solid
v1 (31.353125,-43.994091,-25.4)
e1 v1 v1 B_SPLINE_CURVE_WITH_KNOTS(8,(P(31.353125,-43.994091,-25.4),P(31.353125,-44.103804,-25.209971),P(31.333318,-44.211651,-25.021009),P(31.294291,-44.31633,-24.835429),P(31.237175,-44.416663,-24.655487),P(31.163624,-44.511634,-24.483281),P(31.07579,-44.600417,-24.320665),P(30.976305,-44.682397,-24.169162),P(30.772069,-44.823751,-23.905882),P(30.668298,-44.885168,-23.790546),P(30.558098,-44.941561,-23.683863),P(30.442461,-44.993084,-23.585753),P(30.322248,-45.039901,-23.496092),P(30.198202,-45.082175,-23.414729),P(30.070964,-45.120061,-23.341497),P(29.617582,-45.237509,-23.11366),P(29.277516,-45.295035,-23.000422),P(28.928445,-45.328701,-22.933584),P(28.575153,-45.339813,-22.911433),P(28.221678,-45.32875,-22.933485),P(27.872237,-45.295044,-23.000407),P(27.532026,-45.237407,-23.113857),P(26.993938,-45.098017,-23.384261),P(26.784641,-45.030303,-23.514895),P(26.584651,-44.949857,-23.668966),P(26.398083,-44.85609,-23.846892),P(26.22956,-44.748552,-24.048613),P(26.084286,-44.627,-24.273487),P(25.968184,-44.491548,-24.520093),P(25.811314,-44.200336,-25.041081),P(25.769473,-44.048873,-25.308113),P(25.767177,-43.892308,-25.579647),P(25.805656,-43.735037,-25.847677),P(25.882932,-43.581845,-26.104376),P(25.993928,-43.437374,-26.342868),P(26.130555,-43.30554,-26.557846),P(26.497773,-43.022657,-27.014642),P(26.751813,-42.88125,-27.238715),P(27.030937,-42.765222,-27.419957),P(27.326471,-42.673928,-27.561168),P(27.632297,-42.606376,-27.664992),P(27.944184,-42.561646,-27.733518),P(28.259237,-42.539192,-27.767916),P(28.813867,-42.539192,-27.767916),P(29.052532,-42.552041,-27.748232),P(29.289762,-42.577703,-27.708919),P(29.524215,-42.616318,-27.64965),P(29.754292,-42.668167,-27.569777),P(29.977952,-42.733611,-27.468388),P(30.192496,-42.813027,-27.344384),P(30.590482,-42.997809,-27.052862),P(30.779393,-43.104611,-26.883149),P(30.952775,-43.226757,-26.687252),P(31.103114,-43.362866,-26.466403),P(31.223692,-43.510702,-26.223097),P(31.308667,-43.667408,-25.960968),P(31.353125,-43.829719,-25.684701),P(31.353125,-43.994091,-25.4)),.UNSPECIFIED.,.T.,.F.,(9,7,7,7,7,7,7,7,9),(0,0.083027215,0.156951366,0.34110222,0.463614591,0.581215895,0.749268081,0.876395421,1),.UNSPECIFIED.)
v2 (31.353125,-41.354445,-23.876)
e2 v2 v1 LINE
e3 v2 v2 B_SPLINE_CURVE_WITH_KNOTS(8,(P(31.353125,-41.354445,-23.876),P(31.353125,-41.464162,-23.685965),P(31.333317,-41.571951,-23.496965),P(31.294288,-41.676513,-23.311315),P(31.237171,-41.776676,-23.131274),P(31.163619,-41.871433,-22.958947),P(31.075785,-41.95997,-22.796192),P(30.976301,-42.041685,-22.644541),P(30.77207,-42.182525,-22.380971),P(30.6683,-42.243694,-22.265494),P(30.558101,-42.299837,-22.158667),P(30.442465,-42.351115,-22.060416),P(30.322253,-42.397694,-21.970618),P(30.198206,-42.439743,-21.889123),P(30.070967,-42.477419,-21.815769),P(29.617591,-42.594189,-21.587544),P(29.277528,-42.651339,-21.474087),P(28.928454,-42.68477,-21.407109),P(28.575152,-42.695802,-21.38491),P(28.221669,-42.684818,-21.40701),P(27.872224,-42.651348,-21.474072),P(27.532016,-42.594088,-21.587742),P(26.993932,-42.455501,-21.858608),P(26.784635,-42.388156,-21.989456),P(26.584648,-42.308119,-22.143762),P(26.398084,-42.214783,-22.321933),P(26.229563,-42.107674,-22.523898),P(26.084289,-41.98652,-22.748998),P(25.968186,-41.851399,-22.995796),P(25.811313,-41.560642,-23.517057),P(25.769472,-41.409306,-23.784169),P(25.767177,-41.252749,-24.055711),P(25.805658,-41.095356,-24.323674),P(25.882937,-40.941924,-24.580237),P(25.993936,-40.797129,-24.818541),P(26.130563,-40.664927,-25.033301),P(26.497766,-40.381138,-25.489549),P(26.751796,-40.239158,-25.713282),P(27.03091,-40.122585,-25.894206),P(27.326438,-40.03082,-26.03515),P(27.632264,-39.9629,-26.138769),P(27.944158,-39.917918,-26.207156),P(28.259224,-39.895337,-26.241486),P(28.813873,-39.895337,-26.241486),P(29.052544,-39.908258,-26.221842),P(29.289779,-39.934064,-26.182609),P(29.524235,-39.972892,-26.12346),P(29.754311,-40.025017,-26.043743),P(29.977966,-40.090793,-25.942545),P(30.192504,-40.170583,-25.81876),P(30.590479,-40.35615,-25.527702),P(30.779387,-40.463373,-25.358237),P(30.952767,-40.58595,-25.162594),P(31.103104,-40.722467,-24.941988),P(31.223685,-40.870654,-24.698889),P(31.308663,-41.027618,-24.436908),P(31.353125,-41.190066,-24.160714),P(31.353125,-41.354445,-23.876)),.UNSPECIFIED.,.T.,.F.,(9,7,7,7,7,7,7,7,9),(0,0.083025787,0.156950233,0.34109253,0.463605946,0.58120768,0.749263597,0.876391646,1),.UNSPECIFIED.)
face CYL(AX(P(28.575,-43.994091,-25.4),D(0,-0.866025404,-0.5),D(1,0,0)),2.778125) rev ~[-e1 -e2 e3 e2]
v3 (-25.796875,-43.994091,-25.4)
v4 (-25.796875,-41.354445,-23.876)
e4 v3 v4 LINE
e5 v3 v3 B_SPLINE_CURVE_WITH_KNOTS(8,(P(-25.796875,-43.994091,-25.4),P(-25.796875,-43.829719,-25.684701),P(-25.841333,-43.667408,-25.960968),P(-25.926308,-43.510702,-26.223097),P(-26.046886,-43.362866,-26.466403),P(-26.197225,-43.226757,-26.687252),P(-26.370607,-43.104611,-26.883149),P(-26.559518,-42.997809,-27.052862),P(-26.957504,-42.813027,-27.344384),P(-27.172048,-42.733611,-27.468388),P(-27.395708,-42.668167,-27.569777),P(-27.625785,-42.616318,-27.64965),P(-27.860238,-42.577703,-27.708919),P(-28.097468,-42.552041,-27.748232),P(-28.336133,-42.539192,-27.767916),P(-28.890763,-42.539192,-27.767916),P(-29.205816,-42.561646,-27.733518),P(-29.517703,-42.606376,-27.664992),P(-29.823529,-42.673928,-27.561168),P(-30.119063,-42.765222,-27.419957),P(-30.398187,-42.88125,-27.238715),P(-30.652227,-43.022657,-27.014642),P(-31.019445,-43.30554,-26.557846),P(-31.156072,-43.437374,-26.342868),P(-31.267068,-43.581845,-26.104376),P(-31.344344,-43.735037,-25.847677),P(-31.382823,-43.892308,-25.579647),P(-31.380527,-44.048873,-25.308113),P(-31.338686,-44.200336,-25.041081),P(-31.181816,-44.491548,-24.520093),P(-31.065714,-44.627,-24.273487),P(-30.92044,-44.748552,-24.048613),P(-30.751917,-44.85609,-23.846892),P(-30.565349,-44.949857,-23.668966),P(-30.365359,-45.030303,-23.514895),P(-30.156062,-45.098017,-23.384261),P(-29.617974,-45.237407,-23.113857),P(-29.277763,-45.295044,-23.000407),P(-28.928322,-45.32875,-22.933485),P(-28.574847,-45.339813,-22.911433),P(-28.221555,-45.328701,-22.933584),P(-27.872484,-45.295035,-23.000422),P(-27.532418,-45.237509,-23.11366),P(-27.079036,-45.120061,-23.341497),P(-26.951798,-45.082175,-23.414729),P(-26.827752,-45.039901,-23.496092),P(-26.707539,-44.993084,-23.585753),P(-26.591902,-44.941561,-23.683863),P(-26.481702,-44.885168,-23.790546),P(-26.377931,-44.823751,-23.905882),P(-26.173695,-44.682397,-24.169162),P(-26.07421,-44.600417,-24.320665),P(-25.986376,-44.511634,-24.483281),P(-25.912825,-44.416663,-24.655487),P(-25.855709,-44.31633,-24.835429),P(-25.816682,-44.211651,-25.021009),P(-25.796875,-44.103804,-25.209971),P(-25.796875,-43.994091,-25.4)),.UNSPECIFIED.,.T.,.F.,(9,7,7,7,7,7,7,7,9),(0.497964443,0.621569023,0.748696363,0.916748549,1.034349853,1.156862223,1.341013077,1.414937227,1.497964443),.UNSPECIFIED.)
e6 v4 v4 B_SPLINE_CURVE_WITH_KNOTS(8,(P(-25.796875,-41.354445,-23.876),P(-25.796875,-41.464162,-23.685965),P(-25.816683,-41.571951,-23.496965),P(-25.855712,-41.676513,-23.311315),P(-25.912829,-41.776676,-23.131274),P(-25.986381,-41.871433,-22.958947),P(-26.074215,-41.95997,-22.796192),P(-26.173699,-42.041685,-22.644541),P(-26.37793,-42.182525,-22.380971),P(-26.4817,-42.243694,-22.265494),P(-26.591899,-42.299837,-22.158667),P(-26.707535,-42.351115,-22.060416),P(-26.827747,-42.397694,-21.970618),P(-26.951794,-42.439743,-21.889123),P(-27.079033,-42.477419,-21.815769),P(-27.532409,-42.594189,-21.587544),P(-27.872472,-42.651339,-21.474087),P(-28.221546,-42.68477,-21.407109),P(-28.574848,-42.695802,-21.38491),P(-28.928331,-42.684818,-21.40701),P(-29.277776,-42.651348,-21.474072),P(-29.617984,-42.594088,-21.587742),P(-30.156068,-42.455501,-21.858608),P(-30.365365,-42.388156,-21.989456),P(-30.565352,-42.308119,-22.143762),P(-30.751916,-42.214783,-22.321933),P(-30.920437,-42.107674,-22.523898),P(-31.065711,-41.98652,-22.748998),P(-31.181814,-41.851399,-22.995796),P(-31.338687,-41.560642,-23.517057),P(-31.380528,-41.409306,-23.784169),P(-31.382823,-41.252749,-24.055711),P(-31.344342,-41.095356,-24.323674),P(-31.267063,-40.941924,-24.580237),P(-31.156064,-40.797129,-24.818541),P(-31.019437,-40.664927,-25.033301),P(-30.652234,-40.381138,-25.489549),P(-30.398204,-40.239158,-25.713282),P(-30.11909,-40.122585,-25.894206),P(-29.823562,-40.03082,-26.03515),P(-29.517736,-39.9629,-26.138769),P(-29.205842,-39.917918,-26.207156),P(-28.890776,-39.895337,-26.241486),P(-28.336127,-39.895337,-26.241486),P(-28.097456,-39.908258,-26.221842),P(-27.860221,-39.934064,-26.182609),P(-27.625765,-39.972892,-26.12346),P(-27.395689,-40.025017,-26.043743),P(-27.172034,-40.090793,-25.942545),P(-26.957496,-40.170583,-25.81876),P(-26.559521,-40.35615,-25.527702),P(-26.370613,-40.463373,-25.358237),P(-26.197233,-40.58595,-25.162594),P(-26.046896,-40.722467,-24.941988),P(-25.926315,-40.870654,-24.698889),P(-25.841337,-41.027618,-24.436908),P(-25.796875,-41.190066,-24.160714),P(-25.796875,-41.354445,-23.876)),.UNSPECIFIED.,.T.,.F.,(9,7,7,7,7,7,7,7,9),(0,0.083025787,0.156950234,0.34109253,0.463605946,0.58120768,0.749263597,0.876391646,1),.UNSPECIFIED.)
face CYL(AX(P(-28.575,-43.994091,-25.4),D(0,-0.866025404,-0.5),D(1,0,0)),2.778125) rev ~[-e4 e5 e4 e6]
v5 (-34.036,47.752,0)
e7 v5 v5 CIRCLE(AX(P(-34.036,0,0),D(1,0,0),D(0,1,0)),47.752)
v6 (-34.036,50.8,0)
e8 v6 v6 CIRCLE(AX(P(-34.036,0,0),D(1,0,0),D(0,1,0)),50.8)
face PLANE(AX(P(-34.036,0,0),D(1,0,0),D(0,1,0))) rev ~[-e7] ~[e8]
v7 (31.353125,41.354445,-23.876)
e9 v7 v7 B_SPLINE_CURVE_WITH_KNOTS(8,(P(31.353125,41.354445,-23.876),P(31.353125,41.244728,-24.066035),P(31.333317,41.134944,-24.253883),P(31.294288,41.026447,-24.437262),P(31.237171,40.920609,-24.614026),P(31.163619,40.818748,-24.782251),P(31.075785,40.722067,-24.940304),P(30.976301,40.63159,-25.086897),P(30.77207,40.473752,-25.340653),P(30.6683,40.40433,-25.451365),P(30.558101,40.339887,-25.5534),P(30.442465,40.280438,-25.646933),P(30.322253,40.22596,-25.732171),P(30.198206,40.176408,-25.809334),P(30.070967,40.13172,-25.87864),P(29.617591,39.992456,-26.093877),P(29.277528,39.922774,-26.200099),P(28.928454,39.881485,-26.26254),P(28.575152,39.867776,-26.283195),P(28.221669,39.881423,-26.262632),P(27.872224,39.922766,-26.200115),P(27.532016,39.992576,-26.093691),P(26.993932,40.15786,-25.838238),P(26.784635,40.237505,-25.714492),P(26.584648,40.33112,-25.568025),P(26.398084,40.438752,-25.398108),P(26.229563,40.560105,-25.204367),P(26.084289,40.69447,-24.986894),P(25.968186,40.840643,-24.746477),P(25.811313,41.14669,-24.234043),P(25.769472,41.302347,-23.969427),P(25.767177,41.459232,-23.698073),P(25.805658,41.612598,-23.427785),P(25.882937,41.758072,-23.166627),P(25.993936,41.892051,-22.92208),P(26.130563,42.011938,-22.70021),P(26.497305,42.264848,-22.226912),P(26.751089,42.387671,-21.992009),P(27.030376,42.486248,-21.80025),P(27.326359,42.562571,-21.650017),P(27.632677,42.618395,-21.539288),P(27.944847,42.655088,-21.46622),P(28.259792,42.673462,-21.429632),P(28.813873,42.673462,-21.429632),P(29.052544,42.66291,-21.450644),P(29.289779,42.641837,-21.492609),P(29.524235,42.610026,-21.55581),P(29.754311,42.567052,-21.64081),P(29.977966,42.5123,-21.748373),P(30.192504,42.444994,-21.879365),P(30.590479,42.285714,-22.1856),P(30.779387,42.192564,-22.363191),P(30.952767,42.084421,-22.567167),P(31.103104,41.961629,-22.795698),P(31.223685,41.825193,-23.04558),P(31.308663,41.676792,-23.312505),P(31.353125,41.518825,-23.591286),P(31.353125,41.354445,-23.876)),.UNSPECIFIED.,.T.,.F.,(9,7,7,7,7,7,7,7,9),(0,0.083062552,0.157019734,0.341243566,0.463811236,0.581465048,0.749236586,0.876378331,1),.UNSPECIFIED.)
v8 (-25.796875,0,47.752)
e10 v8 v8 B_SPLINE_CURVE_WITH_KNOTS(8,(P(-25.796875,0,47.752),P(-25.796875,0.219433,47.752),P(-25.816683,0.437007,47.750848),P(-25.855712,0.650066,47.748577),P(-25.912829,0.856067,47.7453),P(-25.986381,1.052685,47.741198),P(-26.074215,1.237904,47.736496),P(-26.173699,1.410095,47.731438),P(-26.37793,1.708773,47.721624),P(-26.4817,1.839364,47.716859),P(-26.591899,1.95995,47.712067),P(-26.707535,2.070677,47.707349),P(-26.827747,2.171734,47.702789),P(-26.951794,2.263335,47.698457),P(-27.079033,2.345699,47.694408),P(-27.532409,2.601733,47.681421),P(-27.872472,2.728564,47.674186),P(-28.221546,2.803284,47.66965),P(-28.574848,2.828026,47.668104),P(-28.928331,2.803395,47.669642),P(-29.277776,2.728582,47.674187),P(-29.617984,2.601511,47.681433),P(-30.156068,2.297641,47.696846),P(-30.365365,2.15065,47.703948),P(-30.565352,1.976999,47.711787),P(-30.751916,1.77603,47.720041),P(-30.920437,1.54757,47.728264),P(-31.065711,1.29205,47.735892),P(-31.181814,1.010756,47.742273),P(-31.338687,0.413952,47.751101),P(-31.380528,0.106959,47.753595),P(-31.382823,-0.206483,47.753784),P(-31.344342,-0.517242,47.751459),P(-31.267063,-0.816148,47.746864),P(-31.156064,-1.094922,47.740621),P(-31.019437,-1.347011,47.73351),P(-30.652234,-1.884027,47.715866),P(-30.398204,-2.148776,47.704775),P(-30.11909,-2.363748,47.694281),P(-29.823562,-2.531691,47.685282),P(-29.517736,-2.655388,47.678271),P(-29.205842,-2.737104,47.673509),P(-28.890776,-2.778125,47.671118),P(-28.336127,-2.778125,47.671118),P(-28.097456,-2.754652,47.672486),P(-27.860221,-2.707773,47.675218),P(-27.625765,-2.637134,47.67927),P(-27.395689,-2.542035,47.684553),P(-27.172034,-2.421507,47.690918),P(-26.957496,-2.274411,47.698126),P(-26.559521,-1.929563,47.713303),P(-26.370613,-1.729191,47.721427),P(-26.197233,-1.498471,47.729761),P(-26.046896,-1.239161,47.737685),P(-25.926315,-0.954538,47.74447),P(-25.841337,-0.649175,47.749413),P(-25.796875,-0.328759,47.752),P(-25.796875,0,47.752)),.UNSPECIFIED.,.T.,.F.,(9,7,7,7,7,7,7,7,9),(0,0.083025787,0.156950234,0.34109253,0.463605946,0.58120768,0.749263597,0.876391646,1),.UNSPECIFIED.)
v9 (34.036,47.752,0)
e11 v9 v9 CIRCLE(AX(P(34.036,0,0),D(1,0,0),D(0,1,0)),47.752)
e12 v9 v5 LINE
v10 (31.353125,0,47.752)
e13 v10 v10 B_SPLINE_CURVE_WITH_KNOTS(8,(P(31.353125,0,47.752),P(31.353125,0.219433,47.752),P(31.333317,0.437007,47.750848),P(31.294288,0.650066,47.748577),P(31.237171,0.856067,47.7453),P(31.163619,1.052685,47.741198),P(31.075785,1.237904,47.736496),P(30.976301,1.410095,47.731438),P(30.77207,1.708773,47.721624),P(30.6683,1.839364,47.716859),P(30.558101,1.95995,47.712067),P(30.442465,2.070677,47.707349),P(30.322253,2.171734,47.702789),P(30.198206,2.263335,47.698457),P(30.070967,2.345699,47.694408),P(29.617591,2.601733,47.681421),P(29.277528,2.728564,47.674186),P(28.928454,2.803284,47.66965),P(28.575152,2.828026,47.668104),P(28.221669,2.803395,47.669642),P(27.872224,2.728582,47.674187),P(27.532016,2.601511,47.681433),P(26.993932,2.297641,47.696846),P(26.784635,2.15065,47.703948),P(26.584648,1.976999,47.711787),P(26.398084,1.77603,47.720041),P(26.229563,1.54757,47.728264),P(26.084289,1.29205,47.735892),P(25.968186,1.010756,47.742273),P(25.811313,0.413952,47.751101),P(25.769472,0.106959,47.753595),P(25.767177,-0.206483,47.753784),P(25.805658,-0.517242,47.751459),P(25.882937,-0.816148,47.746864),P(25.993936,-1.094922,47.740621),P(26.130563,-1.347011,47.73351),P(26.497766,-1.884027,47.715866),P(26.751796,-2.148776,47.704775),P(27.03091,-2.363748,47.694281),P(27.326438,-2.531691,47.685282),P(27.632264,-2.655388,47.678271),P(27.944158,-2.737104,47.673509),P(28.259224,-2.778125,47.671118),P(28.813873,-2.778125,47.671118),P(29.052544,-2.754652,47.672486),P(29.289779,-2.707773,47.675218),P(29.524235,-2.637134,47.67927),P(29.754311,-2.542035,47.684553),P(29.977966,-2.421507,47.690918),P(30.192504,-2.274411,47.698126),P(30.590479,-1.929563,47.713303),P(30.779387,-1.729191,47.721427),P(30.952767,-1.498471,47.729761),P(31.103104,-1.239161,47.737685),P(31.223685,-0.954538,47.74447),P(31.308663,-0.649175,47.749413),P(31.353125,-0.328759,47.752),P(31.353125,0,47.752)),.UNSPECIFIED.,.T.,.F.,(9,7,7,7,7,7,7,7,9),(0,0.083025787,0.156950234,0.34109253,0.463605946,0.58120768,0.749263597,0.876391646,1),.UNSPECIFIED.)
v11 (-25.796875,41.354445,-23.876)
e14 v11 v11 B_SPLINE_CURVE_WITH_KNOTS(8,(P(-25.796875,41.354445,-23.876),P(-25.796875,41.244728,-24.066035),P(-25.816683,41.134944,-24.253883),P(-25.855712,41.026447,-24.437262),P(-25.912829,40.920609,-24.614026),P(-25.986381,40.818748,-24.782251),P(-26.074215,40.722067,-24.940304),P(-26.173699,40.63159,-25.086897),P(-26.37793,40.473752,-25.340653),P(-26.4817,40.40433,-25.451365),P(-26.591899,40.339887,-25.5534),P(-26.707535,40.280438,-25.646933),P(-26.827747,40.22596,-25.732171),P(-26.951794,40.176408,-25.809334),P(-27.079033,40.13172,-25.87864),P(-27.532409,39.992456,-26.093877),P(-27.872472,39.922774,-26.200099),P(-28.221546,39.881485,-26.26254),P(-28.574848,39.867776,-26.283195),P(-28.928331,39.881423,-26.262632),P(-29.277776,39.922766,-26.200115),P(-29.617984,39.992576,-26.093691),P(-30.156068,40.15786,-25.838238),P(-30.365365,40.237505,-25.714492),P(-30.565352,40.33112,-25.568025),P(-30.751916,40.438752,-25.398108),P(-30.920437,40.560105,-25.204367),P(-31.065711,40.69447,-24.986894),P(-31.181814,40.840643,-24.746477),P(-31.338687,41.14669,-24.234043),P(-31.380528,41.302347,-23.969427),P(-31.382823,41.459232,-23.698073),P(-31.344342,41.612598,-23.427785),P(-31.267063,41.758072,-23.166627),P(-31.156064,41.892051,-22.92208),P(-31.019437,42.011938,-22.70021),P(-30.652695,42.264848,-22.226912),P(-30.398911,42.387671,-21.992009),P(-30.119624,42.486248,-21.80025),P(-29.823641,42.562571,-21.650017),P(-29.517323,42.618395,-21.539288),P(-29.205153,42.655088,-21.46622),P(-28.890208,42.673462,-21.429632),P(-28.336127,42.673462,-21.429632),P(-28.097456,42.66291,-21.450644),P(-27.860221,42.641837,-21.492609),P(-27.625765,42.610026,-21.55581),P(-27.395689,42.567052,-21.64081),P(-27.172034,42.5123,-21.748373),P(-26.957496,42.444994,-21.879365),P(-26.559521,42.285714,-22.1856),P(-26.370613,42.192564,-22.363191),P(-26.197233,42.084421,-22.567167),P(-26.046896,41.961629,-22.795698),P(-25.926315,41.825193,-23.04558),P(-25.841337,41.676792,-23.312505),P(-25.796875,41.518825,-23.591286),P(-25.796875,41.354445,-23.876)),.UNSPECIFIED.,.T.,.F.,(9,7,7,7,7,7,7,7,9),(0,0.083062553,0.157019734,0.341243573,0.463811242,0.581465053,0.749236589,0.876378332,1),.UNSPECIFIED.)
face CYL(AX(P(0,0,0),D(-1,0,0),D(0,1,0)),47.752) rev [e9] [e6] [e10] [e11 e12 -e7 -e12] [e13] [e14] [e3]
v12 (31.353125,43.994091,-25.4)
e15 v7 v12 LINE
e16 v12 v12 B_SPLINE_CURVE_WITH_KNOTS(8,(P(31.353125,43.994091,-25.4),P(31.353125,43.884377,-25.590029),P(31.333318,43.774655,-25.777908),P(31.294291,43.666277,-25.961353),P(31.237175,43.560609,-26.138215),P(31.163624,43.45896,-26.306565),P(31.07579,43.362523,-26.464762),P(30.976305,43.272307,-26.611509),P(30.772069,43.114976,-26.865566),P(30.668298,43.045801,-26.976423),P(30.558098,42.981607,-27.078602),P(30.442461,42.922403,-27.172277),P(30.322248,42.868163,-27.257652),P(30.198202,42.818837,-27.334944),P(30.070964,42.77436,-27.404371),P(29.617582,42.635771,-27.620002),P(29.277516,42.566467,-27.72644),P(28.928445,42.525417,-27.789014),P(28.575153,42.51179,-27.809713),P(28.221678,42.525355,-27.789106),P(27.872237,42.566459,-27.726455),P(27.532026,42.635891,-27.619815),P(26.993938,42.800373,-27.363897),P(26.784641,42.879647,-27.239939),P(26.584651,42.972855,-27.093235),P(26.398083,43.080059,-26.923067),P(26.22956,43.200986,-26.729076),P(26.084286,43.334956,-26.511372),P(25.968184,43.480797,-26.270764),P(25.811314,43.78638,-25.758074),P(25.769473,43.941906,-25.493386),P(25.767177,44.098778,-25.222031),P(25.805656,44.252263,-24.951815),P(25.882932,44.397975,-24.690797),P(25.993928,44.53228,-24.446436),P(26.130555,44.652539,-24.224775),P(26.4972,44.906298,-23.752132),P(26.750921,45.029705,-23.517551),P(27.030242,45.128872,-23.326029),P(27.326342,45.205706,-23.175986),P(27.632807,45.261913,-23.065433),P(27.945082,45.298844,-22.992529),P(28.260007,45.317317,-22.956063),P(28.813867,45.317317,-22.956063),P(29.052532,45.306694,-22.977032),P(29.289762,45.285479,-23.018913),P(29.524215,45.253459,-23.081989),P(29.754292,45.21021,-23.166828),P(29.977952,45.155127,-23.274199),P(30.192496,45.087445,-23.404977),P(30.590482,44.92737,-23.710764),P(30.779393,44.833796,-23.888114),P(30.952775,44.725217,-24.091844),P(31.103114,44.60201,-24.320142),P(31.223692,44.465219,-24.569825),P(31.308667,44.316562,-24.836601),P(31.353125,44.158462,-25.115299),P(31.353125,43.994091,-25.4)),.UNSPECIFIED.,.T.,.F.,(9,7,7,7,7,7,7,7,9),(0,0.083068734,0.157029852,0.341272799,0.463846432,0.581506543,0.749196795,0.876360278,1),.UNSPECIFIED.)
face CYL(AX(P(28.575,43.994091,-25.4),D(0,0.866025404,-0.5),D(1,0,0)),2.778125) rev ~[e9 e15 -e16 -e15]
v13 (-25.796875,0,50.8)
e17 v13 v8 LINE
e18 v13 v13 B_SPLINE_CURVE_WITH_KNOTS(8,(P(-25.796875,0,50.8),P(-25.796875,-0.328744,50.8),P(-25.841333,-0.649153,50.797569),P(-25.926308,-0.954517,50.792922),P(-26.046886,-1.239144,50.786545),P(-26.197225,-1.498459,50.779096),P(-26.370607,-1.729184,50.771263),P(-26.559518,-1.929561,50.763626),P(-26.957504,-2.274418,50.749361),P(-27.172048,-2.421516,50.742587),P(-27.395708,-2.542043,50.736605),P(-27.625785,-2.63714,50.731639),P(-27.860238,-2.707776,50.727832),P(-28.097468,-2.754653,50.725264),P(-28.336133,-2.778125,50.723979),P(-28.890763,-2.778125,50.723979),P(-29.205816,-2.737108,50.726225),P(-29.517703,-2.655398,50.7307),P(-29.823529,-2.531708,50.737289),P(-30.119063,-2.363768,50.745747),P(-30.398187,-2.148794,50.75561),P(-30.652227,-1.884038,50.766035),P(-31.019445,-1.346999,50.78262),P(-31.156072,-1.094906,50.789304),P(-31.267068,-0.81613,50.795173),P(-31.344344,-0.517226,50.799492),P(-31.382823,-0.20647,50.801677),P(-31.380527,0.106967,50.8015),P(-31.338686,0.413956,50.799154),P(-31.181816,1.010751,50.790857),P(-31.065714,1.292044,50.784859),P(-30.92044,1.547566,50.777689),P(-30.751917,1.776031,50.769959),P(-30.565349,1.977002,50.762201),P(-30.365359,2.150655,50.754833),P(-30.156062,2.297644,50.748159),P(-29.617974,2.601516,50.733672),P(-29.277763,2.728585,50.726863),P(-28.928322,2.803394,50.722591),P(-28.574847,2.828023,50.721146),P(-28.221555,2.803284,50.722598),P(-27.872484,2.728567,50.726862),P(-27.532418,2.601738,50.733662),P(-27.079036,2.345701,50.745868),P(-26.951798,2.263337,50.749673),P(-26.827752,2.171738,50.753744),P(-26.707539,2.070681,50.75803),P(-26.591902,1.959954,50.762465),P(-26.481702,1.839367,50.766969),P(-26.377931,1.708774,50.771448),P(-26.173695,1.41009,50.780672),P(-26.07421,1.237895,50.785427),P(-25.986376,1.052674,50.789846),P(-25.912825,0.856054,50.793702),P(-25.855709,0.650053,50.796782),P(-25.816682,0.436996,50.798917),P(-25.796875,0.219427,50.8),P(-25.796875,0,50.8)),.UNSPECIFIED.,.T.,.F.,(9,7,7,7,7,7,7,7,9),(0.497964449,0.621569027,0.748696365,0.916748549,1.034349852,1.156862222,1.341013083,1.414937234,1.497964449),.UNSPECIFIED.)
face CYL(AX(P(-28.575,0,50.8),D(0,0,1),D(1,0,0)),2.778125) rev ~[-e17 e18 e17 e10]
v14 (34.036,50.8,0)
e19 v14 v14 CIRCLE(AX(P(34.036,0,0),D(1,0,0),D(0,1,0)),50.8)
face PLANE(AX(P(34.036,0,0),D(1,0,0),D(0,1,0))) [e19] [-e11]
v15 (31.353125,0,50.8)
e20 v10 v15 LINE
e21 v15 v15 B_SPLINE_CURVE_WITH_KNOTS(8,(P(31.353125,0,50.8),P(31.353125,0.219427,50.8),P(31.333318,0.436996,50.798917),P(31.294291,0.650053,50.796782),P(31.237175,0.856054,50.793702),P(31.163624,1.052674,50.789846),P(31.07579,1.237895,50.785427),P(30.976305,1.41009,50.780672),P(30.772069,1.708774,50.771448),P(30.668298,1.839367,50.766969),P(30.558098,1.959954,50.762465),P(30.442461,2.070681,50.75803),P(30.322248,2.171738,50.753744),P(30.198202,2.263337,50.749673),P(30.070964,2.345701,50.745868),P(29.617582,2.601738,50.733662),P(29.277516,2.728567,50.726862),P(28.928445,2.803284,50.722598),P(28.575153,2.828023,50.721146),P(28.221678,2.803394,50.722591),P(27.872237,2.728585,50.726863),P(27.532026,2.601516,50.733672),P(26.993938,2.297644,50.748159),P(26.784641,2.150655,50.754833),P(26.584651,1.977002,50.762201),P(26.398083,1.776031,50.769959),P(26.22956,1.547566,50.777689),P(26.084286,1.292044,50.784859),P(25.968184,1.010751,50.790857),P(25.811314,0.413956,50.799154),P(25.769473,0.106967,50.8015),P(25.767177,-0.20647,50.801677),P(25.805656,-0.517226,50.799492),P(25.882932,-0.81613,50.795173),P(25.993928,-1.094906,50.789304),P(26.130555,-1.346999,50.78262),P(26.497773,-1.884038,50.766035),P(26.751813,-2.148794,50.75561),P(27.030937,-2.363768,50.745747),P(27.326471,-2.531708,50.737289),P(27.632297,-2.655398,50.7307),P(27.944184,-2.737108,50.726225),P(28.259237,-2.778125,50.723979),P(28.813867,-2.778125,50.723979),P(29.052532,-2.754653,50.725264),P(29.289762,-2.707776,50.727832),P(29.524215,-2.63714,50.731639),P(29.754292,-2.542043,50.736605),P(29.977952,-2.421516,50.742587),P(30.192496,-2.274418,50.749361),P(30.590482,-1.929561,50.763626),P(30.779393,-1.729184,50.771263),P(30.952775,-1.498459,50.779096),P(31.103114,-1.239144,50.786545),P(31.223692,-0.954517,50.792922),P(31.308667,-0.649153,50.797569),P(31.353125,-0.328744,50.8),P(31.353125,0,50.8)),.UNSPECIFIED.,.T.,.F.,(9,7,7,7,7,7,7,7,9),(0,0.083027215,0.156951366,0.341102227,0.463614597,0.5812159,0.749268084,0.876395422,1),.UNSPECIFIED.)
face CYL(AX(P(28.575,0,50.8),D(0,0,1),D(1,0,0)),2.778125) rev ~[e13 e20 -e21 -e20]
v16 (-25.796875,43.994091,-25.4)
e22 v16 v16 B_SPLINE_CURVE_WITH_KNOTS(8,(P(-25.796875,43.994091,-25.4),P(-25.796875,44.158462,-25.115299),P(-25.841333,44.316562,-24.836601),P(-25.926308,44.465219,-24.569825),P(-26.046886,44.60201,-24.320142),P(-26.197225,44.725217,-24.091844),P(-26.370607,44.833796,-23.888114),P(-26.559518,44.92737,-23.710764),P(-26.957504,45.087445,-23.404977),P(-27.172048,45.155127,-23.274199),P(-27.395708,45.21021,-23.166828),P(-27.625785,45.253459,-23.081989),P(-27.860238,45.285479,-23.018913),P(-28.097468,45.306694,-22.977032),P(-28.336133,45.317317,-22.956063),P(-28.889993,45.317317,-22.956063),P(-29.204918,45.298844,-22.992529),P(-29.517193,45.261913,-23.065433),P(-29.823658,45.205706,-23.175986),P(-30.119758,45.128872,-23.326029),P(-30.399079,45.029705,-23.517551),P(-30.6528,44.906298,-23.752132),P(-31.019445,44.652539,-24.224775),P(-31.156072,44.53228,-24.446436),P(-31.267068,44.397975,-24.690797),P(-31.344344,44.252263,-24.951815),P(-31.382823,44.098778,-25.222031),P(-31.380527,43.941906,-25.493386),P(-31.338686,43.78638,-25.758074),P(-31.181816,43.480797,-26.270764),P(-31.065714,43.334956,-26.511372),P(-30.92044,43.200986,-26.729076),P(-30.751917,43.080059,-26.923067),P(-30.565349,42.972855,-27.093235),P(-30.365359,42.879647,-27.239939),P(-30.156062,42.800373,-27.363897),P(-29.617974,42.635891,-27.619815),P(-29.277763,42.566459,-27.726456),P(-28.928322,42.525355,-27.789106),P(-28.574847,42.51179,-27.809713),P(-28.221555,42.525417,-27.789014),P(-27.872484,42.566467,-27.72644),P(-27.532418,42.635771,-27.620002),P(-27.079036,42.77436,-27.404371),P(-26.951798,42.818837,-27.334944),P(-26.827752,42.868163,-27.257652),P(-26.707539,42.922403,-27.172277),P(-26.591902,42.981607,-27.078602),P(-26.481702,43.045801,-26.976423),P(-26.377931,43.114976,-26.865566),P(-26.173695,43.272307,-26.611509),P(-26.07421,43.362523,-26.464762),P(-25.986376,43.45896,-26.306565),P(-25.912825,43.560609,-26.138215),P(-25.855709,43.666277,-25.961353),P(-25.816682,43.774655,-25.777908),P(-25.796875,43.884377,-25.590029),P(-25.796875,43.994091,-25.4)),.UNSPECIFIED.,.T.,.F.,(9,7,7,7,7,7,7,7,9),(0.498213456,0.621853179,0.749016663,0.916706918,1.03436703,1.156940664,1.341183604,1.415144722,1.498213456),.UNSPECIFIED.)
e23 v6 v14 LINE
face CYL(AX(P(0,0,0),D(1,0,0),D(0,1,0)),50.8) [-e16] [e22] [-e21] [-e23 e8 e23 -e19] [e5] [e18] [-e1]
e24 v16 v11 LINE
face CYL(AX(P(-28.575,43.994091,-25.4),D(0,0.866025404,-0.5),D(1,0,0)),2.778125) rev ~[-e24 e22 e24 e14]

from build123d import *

# Parameters (mm, degrees)
F0_R     = 50.8
F0_R_2   = 47.752
F1_DEPTH = 34.036
F3_R     = 2.778125
F4_DEPTH = 12.7
F6_COUNT = 3
F6_ANGLE = 240


with BuildPart() as f1:
    # F0 (on Right) → F1 (new body, symmetric)
    with BuildSketch(Plane.YZ):
        Circle(F0_R)
        Circle(F0_R_2, mode=Mode.SUBTRACT)
    extrude(amount=F1_DEPTH, both=True)


with BuildPart() as f4:
    # F3 (on offset) → F4 (new body, symmetric)
    with BuildSketch(Plane.XY.offset(50.8)):
        with Locations((-28.575, 0)):
            Circle(F3_R)
        with Locations((28.575, 0)):
            Circle(F3_R)
    extrude(amount=F4_DEPTH, both=True)


with BuildPart() as f6_1:
    # F6: instance of F4
    add(f4.part.rotate(Axis((2.265271, 0, 0), (1, 0, 0)), 1 * F6_ANGLE / (F6_COUNT - 1)))


with BuildPart() as f6_2:
    # F6: instance of F4
    add(f4.part.rotate(Axis((2.265271, 0, 0), (1, 0, 0)), 2 * F6_ANGLE / (F6_COUNT - 1)))


with BuildPart() as f1_1:
    add(f1.part)

    # F7: cut F4, F6_2, F6_1
    add(f4.part, mode=Mode.SUBTRACT)
    add(f6_2.part, mode=Mode.SUBTRACT)
    add(f6_1.part, mode=Mode.SUBTRACT)


solid = f1_1.part
